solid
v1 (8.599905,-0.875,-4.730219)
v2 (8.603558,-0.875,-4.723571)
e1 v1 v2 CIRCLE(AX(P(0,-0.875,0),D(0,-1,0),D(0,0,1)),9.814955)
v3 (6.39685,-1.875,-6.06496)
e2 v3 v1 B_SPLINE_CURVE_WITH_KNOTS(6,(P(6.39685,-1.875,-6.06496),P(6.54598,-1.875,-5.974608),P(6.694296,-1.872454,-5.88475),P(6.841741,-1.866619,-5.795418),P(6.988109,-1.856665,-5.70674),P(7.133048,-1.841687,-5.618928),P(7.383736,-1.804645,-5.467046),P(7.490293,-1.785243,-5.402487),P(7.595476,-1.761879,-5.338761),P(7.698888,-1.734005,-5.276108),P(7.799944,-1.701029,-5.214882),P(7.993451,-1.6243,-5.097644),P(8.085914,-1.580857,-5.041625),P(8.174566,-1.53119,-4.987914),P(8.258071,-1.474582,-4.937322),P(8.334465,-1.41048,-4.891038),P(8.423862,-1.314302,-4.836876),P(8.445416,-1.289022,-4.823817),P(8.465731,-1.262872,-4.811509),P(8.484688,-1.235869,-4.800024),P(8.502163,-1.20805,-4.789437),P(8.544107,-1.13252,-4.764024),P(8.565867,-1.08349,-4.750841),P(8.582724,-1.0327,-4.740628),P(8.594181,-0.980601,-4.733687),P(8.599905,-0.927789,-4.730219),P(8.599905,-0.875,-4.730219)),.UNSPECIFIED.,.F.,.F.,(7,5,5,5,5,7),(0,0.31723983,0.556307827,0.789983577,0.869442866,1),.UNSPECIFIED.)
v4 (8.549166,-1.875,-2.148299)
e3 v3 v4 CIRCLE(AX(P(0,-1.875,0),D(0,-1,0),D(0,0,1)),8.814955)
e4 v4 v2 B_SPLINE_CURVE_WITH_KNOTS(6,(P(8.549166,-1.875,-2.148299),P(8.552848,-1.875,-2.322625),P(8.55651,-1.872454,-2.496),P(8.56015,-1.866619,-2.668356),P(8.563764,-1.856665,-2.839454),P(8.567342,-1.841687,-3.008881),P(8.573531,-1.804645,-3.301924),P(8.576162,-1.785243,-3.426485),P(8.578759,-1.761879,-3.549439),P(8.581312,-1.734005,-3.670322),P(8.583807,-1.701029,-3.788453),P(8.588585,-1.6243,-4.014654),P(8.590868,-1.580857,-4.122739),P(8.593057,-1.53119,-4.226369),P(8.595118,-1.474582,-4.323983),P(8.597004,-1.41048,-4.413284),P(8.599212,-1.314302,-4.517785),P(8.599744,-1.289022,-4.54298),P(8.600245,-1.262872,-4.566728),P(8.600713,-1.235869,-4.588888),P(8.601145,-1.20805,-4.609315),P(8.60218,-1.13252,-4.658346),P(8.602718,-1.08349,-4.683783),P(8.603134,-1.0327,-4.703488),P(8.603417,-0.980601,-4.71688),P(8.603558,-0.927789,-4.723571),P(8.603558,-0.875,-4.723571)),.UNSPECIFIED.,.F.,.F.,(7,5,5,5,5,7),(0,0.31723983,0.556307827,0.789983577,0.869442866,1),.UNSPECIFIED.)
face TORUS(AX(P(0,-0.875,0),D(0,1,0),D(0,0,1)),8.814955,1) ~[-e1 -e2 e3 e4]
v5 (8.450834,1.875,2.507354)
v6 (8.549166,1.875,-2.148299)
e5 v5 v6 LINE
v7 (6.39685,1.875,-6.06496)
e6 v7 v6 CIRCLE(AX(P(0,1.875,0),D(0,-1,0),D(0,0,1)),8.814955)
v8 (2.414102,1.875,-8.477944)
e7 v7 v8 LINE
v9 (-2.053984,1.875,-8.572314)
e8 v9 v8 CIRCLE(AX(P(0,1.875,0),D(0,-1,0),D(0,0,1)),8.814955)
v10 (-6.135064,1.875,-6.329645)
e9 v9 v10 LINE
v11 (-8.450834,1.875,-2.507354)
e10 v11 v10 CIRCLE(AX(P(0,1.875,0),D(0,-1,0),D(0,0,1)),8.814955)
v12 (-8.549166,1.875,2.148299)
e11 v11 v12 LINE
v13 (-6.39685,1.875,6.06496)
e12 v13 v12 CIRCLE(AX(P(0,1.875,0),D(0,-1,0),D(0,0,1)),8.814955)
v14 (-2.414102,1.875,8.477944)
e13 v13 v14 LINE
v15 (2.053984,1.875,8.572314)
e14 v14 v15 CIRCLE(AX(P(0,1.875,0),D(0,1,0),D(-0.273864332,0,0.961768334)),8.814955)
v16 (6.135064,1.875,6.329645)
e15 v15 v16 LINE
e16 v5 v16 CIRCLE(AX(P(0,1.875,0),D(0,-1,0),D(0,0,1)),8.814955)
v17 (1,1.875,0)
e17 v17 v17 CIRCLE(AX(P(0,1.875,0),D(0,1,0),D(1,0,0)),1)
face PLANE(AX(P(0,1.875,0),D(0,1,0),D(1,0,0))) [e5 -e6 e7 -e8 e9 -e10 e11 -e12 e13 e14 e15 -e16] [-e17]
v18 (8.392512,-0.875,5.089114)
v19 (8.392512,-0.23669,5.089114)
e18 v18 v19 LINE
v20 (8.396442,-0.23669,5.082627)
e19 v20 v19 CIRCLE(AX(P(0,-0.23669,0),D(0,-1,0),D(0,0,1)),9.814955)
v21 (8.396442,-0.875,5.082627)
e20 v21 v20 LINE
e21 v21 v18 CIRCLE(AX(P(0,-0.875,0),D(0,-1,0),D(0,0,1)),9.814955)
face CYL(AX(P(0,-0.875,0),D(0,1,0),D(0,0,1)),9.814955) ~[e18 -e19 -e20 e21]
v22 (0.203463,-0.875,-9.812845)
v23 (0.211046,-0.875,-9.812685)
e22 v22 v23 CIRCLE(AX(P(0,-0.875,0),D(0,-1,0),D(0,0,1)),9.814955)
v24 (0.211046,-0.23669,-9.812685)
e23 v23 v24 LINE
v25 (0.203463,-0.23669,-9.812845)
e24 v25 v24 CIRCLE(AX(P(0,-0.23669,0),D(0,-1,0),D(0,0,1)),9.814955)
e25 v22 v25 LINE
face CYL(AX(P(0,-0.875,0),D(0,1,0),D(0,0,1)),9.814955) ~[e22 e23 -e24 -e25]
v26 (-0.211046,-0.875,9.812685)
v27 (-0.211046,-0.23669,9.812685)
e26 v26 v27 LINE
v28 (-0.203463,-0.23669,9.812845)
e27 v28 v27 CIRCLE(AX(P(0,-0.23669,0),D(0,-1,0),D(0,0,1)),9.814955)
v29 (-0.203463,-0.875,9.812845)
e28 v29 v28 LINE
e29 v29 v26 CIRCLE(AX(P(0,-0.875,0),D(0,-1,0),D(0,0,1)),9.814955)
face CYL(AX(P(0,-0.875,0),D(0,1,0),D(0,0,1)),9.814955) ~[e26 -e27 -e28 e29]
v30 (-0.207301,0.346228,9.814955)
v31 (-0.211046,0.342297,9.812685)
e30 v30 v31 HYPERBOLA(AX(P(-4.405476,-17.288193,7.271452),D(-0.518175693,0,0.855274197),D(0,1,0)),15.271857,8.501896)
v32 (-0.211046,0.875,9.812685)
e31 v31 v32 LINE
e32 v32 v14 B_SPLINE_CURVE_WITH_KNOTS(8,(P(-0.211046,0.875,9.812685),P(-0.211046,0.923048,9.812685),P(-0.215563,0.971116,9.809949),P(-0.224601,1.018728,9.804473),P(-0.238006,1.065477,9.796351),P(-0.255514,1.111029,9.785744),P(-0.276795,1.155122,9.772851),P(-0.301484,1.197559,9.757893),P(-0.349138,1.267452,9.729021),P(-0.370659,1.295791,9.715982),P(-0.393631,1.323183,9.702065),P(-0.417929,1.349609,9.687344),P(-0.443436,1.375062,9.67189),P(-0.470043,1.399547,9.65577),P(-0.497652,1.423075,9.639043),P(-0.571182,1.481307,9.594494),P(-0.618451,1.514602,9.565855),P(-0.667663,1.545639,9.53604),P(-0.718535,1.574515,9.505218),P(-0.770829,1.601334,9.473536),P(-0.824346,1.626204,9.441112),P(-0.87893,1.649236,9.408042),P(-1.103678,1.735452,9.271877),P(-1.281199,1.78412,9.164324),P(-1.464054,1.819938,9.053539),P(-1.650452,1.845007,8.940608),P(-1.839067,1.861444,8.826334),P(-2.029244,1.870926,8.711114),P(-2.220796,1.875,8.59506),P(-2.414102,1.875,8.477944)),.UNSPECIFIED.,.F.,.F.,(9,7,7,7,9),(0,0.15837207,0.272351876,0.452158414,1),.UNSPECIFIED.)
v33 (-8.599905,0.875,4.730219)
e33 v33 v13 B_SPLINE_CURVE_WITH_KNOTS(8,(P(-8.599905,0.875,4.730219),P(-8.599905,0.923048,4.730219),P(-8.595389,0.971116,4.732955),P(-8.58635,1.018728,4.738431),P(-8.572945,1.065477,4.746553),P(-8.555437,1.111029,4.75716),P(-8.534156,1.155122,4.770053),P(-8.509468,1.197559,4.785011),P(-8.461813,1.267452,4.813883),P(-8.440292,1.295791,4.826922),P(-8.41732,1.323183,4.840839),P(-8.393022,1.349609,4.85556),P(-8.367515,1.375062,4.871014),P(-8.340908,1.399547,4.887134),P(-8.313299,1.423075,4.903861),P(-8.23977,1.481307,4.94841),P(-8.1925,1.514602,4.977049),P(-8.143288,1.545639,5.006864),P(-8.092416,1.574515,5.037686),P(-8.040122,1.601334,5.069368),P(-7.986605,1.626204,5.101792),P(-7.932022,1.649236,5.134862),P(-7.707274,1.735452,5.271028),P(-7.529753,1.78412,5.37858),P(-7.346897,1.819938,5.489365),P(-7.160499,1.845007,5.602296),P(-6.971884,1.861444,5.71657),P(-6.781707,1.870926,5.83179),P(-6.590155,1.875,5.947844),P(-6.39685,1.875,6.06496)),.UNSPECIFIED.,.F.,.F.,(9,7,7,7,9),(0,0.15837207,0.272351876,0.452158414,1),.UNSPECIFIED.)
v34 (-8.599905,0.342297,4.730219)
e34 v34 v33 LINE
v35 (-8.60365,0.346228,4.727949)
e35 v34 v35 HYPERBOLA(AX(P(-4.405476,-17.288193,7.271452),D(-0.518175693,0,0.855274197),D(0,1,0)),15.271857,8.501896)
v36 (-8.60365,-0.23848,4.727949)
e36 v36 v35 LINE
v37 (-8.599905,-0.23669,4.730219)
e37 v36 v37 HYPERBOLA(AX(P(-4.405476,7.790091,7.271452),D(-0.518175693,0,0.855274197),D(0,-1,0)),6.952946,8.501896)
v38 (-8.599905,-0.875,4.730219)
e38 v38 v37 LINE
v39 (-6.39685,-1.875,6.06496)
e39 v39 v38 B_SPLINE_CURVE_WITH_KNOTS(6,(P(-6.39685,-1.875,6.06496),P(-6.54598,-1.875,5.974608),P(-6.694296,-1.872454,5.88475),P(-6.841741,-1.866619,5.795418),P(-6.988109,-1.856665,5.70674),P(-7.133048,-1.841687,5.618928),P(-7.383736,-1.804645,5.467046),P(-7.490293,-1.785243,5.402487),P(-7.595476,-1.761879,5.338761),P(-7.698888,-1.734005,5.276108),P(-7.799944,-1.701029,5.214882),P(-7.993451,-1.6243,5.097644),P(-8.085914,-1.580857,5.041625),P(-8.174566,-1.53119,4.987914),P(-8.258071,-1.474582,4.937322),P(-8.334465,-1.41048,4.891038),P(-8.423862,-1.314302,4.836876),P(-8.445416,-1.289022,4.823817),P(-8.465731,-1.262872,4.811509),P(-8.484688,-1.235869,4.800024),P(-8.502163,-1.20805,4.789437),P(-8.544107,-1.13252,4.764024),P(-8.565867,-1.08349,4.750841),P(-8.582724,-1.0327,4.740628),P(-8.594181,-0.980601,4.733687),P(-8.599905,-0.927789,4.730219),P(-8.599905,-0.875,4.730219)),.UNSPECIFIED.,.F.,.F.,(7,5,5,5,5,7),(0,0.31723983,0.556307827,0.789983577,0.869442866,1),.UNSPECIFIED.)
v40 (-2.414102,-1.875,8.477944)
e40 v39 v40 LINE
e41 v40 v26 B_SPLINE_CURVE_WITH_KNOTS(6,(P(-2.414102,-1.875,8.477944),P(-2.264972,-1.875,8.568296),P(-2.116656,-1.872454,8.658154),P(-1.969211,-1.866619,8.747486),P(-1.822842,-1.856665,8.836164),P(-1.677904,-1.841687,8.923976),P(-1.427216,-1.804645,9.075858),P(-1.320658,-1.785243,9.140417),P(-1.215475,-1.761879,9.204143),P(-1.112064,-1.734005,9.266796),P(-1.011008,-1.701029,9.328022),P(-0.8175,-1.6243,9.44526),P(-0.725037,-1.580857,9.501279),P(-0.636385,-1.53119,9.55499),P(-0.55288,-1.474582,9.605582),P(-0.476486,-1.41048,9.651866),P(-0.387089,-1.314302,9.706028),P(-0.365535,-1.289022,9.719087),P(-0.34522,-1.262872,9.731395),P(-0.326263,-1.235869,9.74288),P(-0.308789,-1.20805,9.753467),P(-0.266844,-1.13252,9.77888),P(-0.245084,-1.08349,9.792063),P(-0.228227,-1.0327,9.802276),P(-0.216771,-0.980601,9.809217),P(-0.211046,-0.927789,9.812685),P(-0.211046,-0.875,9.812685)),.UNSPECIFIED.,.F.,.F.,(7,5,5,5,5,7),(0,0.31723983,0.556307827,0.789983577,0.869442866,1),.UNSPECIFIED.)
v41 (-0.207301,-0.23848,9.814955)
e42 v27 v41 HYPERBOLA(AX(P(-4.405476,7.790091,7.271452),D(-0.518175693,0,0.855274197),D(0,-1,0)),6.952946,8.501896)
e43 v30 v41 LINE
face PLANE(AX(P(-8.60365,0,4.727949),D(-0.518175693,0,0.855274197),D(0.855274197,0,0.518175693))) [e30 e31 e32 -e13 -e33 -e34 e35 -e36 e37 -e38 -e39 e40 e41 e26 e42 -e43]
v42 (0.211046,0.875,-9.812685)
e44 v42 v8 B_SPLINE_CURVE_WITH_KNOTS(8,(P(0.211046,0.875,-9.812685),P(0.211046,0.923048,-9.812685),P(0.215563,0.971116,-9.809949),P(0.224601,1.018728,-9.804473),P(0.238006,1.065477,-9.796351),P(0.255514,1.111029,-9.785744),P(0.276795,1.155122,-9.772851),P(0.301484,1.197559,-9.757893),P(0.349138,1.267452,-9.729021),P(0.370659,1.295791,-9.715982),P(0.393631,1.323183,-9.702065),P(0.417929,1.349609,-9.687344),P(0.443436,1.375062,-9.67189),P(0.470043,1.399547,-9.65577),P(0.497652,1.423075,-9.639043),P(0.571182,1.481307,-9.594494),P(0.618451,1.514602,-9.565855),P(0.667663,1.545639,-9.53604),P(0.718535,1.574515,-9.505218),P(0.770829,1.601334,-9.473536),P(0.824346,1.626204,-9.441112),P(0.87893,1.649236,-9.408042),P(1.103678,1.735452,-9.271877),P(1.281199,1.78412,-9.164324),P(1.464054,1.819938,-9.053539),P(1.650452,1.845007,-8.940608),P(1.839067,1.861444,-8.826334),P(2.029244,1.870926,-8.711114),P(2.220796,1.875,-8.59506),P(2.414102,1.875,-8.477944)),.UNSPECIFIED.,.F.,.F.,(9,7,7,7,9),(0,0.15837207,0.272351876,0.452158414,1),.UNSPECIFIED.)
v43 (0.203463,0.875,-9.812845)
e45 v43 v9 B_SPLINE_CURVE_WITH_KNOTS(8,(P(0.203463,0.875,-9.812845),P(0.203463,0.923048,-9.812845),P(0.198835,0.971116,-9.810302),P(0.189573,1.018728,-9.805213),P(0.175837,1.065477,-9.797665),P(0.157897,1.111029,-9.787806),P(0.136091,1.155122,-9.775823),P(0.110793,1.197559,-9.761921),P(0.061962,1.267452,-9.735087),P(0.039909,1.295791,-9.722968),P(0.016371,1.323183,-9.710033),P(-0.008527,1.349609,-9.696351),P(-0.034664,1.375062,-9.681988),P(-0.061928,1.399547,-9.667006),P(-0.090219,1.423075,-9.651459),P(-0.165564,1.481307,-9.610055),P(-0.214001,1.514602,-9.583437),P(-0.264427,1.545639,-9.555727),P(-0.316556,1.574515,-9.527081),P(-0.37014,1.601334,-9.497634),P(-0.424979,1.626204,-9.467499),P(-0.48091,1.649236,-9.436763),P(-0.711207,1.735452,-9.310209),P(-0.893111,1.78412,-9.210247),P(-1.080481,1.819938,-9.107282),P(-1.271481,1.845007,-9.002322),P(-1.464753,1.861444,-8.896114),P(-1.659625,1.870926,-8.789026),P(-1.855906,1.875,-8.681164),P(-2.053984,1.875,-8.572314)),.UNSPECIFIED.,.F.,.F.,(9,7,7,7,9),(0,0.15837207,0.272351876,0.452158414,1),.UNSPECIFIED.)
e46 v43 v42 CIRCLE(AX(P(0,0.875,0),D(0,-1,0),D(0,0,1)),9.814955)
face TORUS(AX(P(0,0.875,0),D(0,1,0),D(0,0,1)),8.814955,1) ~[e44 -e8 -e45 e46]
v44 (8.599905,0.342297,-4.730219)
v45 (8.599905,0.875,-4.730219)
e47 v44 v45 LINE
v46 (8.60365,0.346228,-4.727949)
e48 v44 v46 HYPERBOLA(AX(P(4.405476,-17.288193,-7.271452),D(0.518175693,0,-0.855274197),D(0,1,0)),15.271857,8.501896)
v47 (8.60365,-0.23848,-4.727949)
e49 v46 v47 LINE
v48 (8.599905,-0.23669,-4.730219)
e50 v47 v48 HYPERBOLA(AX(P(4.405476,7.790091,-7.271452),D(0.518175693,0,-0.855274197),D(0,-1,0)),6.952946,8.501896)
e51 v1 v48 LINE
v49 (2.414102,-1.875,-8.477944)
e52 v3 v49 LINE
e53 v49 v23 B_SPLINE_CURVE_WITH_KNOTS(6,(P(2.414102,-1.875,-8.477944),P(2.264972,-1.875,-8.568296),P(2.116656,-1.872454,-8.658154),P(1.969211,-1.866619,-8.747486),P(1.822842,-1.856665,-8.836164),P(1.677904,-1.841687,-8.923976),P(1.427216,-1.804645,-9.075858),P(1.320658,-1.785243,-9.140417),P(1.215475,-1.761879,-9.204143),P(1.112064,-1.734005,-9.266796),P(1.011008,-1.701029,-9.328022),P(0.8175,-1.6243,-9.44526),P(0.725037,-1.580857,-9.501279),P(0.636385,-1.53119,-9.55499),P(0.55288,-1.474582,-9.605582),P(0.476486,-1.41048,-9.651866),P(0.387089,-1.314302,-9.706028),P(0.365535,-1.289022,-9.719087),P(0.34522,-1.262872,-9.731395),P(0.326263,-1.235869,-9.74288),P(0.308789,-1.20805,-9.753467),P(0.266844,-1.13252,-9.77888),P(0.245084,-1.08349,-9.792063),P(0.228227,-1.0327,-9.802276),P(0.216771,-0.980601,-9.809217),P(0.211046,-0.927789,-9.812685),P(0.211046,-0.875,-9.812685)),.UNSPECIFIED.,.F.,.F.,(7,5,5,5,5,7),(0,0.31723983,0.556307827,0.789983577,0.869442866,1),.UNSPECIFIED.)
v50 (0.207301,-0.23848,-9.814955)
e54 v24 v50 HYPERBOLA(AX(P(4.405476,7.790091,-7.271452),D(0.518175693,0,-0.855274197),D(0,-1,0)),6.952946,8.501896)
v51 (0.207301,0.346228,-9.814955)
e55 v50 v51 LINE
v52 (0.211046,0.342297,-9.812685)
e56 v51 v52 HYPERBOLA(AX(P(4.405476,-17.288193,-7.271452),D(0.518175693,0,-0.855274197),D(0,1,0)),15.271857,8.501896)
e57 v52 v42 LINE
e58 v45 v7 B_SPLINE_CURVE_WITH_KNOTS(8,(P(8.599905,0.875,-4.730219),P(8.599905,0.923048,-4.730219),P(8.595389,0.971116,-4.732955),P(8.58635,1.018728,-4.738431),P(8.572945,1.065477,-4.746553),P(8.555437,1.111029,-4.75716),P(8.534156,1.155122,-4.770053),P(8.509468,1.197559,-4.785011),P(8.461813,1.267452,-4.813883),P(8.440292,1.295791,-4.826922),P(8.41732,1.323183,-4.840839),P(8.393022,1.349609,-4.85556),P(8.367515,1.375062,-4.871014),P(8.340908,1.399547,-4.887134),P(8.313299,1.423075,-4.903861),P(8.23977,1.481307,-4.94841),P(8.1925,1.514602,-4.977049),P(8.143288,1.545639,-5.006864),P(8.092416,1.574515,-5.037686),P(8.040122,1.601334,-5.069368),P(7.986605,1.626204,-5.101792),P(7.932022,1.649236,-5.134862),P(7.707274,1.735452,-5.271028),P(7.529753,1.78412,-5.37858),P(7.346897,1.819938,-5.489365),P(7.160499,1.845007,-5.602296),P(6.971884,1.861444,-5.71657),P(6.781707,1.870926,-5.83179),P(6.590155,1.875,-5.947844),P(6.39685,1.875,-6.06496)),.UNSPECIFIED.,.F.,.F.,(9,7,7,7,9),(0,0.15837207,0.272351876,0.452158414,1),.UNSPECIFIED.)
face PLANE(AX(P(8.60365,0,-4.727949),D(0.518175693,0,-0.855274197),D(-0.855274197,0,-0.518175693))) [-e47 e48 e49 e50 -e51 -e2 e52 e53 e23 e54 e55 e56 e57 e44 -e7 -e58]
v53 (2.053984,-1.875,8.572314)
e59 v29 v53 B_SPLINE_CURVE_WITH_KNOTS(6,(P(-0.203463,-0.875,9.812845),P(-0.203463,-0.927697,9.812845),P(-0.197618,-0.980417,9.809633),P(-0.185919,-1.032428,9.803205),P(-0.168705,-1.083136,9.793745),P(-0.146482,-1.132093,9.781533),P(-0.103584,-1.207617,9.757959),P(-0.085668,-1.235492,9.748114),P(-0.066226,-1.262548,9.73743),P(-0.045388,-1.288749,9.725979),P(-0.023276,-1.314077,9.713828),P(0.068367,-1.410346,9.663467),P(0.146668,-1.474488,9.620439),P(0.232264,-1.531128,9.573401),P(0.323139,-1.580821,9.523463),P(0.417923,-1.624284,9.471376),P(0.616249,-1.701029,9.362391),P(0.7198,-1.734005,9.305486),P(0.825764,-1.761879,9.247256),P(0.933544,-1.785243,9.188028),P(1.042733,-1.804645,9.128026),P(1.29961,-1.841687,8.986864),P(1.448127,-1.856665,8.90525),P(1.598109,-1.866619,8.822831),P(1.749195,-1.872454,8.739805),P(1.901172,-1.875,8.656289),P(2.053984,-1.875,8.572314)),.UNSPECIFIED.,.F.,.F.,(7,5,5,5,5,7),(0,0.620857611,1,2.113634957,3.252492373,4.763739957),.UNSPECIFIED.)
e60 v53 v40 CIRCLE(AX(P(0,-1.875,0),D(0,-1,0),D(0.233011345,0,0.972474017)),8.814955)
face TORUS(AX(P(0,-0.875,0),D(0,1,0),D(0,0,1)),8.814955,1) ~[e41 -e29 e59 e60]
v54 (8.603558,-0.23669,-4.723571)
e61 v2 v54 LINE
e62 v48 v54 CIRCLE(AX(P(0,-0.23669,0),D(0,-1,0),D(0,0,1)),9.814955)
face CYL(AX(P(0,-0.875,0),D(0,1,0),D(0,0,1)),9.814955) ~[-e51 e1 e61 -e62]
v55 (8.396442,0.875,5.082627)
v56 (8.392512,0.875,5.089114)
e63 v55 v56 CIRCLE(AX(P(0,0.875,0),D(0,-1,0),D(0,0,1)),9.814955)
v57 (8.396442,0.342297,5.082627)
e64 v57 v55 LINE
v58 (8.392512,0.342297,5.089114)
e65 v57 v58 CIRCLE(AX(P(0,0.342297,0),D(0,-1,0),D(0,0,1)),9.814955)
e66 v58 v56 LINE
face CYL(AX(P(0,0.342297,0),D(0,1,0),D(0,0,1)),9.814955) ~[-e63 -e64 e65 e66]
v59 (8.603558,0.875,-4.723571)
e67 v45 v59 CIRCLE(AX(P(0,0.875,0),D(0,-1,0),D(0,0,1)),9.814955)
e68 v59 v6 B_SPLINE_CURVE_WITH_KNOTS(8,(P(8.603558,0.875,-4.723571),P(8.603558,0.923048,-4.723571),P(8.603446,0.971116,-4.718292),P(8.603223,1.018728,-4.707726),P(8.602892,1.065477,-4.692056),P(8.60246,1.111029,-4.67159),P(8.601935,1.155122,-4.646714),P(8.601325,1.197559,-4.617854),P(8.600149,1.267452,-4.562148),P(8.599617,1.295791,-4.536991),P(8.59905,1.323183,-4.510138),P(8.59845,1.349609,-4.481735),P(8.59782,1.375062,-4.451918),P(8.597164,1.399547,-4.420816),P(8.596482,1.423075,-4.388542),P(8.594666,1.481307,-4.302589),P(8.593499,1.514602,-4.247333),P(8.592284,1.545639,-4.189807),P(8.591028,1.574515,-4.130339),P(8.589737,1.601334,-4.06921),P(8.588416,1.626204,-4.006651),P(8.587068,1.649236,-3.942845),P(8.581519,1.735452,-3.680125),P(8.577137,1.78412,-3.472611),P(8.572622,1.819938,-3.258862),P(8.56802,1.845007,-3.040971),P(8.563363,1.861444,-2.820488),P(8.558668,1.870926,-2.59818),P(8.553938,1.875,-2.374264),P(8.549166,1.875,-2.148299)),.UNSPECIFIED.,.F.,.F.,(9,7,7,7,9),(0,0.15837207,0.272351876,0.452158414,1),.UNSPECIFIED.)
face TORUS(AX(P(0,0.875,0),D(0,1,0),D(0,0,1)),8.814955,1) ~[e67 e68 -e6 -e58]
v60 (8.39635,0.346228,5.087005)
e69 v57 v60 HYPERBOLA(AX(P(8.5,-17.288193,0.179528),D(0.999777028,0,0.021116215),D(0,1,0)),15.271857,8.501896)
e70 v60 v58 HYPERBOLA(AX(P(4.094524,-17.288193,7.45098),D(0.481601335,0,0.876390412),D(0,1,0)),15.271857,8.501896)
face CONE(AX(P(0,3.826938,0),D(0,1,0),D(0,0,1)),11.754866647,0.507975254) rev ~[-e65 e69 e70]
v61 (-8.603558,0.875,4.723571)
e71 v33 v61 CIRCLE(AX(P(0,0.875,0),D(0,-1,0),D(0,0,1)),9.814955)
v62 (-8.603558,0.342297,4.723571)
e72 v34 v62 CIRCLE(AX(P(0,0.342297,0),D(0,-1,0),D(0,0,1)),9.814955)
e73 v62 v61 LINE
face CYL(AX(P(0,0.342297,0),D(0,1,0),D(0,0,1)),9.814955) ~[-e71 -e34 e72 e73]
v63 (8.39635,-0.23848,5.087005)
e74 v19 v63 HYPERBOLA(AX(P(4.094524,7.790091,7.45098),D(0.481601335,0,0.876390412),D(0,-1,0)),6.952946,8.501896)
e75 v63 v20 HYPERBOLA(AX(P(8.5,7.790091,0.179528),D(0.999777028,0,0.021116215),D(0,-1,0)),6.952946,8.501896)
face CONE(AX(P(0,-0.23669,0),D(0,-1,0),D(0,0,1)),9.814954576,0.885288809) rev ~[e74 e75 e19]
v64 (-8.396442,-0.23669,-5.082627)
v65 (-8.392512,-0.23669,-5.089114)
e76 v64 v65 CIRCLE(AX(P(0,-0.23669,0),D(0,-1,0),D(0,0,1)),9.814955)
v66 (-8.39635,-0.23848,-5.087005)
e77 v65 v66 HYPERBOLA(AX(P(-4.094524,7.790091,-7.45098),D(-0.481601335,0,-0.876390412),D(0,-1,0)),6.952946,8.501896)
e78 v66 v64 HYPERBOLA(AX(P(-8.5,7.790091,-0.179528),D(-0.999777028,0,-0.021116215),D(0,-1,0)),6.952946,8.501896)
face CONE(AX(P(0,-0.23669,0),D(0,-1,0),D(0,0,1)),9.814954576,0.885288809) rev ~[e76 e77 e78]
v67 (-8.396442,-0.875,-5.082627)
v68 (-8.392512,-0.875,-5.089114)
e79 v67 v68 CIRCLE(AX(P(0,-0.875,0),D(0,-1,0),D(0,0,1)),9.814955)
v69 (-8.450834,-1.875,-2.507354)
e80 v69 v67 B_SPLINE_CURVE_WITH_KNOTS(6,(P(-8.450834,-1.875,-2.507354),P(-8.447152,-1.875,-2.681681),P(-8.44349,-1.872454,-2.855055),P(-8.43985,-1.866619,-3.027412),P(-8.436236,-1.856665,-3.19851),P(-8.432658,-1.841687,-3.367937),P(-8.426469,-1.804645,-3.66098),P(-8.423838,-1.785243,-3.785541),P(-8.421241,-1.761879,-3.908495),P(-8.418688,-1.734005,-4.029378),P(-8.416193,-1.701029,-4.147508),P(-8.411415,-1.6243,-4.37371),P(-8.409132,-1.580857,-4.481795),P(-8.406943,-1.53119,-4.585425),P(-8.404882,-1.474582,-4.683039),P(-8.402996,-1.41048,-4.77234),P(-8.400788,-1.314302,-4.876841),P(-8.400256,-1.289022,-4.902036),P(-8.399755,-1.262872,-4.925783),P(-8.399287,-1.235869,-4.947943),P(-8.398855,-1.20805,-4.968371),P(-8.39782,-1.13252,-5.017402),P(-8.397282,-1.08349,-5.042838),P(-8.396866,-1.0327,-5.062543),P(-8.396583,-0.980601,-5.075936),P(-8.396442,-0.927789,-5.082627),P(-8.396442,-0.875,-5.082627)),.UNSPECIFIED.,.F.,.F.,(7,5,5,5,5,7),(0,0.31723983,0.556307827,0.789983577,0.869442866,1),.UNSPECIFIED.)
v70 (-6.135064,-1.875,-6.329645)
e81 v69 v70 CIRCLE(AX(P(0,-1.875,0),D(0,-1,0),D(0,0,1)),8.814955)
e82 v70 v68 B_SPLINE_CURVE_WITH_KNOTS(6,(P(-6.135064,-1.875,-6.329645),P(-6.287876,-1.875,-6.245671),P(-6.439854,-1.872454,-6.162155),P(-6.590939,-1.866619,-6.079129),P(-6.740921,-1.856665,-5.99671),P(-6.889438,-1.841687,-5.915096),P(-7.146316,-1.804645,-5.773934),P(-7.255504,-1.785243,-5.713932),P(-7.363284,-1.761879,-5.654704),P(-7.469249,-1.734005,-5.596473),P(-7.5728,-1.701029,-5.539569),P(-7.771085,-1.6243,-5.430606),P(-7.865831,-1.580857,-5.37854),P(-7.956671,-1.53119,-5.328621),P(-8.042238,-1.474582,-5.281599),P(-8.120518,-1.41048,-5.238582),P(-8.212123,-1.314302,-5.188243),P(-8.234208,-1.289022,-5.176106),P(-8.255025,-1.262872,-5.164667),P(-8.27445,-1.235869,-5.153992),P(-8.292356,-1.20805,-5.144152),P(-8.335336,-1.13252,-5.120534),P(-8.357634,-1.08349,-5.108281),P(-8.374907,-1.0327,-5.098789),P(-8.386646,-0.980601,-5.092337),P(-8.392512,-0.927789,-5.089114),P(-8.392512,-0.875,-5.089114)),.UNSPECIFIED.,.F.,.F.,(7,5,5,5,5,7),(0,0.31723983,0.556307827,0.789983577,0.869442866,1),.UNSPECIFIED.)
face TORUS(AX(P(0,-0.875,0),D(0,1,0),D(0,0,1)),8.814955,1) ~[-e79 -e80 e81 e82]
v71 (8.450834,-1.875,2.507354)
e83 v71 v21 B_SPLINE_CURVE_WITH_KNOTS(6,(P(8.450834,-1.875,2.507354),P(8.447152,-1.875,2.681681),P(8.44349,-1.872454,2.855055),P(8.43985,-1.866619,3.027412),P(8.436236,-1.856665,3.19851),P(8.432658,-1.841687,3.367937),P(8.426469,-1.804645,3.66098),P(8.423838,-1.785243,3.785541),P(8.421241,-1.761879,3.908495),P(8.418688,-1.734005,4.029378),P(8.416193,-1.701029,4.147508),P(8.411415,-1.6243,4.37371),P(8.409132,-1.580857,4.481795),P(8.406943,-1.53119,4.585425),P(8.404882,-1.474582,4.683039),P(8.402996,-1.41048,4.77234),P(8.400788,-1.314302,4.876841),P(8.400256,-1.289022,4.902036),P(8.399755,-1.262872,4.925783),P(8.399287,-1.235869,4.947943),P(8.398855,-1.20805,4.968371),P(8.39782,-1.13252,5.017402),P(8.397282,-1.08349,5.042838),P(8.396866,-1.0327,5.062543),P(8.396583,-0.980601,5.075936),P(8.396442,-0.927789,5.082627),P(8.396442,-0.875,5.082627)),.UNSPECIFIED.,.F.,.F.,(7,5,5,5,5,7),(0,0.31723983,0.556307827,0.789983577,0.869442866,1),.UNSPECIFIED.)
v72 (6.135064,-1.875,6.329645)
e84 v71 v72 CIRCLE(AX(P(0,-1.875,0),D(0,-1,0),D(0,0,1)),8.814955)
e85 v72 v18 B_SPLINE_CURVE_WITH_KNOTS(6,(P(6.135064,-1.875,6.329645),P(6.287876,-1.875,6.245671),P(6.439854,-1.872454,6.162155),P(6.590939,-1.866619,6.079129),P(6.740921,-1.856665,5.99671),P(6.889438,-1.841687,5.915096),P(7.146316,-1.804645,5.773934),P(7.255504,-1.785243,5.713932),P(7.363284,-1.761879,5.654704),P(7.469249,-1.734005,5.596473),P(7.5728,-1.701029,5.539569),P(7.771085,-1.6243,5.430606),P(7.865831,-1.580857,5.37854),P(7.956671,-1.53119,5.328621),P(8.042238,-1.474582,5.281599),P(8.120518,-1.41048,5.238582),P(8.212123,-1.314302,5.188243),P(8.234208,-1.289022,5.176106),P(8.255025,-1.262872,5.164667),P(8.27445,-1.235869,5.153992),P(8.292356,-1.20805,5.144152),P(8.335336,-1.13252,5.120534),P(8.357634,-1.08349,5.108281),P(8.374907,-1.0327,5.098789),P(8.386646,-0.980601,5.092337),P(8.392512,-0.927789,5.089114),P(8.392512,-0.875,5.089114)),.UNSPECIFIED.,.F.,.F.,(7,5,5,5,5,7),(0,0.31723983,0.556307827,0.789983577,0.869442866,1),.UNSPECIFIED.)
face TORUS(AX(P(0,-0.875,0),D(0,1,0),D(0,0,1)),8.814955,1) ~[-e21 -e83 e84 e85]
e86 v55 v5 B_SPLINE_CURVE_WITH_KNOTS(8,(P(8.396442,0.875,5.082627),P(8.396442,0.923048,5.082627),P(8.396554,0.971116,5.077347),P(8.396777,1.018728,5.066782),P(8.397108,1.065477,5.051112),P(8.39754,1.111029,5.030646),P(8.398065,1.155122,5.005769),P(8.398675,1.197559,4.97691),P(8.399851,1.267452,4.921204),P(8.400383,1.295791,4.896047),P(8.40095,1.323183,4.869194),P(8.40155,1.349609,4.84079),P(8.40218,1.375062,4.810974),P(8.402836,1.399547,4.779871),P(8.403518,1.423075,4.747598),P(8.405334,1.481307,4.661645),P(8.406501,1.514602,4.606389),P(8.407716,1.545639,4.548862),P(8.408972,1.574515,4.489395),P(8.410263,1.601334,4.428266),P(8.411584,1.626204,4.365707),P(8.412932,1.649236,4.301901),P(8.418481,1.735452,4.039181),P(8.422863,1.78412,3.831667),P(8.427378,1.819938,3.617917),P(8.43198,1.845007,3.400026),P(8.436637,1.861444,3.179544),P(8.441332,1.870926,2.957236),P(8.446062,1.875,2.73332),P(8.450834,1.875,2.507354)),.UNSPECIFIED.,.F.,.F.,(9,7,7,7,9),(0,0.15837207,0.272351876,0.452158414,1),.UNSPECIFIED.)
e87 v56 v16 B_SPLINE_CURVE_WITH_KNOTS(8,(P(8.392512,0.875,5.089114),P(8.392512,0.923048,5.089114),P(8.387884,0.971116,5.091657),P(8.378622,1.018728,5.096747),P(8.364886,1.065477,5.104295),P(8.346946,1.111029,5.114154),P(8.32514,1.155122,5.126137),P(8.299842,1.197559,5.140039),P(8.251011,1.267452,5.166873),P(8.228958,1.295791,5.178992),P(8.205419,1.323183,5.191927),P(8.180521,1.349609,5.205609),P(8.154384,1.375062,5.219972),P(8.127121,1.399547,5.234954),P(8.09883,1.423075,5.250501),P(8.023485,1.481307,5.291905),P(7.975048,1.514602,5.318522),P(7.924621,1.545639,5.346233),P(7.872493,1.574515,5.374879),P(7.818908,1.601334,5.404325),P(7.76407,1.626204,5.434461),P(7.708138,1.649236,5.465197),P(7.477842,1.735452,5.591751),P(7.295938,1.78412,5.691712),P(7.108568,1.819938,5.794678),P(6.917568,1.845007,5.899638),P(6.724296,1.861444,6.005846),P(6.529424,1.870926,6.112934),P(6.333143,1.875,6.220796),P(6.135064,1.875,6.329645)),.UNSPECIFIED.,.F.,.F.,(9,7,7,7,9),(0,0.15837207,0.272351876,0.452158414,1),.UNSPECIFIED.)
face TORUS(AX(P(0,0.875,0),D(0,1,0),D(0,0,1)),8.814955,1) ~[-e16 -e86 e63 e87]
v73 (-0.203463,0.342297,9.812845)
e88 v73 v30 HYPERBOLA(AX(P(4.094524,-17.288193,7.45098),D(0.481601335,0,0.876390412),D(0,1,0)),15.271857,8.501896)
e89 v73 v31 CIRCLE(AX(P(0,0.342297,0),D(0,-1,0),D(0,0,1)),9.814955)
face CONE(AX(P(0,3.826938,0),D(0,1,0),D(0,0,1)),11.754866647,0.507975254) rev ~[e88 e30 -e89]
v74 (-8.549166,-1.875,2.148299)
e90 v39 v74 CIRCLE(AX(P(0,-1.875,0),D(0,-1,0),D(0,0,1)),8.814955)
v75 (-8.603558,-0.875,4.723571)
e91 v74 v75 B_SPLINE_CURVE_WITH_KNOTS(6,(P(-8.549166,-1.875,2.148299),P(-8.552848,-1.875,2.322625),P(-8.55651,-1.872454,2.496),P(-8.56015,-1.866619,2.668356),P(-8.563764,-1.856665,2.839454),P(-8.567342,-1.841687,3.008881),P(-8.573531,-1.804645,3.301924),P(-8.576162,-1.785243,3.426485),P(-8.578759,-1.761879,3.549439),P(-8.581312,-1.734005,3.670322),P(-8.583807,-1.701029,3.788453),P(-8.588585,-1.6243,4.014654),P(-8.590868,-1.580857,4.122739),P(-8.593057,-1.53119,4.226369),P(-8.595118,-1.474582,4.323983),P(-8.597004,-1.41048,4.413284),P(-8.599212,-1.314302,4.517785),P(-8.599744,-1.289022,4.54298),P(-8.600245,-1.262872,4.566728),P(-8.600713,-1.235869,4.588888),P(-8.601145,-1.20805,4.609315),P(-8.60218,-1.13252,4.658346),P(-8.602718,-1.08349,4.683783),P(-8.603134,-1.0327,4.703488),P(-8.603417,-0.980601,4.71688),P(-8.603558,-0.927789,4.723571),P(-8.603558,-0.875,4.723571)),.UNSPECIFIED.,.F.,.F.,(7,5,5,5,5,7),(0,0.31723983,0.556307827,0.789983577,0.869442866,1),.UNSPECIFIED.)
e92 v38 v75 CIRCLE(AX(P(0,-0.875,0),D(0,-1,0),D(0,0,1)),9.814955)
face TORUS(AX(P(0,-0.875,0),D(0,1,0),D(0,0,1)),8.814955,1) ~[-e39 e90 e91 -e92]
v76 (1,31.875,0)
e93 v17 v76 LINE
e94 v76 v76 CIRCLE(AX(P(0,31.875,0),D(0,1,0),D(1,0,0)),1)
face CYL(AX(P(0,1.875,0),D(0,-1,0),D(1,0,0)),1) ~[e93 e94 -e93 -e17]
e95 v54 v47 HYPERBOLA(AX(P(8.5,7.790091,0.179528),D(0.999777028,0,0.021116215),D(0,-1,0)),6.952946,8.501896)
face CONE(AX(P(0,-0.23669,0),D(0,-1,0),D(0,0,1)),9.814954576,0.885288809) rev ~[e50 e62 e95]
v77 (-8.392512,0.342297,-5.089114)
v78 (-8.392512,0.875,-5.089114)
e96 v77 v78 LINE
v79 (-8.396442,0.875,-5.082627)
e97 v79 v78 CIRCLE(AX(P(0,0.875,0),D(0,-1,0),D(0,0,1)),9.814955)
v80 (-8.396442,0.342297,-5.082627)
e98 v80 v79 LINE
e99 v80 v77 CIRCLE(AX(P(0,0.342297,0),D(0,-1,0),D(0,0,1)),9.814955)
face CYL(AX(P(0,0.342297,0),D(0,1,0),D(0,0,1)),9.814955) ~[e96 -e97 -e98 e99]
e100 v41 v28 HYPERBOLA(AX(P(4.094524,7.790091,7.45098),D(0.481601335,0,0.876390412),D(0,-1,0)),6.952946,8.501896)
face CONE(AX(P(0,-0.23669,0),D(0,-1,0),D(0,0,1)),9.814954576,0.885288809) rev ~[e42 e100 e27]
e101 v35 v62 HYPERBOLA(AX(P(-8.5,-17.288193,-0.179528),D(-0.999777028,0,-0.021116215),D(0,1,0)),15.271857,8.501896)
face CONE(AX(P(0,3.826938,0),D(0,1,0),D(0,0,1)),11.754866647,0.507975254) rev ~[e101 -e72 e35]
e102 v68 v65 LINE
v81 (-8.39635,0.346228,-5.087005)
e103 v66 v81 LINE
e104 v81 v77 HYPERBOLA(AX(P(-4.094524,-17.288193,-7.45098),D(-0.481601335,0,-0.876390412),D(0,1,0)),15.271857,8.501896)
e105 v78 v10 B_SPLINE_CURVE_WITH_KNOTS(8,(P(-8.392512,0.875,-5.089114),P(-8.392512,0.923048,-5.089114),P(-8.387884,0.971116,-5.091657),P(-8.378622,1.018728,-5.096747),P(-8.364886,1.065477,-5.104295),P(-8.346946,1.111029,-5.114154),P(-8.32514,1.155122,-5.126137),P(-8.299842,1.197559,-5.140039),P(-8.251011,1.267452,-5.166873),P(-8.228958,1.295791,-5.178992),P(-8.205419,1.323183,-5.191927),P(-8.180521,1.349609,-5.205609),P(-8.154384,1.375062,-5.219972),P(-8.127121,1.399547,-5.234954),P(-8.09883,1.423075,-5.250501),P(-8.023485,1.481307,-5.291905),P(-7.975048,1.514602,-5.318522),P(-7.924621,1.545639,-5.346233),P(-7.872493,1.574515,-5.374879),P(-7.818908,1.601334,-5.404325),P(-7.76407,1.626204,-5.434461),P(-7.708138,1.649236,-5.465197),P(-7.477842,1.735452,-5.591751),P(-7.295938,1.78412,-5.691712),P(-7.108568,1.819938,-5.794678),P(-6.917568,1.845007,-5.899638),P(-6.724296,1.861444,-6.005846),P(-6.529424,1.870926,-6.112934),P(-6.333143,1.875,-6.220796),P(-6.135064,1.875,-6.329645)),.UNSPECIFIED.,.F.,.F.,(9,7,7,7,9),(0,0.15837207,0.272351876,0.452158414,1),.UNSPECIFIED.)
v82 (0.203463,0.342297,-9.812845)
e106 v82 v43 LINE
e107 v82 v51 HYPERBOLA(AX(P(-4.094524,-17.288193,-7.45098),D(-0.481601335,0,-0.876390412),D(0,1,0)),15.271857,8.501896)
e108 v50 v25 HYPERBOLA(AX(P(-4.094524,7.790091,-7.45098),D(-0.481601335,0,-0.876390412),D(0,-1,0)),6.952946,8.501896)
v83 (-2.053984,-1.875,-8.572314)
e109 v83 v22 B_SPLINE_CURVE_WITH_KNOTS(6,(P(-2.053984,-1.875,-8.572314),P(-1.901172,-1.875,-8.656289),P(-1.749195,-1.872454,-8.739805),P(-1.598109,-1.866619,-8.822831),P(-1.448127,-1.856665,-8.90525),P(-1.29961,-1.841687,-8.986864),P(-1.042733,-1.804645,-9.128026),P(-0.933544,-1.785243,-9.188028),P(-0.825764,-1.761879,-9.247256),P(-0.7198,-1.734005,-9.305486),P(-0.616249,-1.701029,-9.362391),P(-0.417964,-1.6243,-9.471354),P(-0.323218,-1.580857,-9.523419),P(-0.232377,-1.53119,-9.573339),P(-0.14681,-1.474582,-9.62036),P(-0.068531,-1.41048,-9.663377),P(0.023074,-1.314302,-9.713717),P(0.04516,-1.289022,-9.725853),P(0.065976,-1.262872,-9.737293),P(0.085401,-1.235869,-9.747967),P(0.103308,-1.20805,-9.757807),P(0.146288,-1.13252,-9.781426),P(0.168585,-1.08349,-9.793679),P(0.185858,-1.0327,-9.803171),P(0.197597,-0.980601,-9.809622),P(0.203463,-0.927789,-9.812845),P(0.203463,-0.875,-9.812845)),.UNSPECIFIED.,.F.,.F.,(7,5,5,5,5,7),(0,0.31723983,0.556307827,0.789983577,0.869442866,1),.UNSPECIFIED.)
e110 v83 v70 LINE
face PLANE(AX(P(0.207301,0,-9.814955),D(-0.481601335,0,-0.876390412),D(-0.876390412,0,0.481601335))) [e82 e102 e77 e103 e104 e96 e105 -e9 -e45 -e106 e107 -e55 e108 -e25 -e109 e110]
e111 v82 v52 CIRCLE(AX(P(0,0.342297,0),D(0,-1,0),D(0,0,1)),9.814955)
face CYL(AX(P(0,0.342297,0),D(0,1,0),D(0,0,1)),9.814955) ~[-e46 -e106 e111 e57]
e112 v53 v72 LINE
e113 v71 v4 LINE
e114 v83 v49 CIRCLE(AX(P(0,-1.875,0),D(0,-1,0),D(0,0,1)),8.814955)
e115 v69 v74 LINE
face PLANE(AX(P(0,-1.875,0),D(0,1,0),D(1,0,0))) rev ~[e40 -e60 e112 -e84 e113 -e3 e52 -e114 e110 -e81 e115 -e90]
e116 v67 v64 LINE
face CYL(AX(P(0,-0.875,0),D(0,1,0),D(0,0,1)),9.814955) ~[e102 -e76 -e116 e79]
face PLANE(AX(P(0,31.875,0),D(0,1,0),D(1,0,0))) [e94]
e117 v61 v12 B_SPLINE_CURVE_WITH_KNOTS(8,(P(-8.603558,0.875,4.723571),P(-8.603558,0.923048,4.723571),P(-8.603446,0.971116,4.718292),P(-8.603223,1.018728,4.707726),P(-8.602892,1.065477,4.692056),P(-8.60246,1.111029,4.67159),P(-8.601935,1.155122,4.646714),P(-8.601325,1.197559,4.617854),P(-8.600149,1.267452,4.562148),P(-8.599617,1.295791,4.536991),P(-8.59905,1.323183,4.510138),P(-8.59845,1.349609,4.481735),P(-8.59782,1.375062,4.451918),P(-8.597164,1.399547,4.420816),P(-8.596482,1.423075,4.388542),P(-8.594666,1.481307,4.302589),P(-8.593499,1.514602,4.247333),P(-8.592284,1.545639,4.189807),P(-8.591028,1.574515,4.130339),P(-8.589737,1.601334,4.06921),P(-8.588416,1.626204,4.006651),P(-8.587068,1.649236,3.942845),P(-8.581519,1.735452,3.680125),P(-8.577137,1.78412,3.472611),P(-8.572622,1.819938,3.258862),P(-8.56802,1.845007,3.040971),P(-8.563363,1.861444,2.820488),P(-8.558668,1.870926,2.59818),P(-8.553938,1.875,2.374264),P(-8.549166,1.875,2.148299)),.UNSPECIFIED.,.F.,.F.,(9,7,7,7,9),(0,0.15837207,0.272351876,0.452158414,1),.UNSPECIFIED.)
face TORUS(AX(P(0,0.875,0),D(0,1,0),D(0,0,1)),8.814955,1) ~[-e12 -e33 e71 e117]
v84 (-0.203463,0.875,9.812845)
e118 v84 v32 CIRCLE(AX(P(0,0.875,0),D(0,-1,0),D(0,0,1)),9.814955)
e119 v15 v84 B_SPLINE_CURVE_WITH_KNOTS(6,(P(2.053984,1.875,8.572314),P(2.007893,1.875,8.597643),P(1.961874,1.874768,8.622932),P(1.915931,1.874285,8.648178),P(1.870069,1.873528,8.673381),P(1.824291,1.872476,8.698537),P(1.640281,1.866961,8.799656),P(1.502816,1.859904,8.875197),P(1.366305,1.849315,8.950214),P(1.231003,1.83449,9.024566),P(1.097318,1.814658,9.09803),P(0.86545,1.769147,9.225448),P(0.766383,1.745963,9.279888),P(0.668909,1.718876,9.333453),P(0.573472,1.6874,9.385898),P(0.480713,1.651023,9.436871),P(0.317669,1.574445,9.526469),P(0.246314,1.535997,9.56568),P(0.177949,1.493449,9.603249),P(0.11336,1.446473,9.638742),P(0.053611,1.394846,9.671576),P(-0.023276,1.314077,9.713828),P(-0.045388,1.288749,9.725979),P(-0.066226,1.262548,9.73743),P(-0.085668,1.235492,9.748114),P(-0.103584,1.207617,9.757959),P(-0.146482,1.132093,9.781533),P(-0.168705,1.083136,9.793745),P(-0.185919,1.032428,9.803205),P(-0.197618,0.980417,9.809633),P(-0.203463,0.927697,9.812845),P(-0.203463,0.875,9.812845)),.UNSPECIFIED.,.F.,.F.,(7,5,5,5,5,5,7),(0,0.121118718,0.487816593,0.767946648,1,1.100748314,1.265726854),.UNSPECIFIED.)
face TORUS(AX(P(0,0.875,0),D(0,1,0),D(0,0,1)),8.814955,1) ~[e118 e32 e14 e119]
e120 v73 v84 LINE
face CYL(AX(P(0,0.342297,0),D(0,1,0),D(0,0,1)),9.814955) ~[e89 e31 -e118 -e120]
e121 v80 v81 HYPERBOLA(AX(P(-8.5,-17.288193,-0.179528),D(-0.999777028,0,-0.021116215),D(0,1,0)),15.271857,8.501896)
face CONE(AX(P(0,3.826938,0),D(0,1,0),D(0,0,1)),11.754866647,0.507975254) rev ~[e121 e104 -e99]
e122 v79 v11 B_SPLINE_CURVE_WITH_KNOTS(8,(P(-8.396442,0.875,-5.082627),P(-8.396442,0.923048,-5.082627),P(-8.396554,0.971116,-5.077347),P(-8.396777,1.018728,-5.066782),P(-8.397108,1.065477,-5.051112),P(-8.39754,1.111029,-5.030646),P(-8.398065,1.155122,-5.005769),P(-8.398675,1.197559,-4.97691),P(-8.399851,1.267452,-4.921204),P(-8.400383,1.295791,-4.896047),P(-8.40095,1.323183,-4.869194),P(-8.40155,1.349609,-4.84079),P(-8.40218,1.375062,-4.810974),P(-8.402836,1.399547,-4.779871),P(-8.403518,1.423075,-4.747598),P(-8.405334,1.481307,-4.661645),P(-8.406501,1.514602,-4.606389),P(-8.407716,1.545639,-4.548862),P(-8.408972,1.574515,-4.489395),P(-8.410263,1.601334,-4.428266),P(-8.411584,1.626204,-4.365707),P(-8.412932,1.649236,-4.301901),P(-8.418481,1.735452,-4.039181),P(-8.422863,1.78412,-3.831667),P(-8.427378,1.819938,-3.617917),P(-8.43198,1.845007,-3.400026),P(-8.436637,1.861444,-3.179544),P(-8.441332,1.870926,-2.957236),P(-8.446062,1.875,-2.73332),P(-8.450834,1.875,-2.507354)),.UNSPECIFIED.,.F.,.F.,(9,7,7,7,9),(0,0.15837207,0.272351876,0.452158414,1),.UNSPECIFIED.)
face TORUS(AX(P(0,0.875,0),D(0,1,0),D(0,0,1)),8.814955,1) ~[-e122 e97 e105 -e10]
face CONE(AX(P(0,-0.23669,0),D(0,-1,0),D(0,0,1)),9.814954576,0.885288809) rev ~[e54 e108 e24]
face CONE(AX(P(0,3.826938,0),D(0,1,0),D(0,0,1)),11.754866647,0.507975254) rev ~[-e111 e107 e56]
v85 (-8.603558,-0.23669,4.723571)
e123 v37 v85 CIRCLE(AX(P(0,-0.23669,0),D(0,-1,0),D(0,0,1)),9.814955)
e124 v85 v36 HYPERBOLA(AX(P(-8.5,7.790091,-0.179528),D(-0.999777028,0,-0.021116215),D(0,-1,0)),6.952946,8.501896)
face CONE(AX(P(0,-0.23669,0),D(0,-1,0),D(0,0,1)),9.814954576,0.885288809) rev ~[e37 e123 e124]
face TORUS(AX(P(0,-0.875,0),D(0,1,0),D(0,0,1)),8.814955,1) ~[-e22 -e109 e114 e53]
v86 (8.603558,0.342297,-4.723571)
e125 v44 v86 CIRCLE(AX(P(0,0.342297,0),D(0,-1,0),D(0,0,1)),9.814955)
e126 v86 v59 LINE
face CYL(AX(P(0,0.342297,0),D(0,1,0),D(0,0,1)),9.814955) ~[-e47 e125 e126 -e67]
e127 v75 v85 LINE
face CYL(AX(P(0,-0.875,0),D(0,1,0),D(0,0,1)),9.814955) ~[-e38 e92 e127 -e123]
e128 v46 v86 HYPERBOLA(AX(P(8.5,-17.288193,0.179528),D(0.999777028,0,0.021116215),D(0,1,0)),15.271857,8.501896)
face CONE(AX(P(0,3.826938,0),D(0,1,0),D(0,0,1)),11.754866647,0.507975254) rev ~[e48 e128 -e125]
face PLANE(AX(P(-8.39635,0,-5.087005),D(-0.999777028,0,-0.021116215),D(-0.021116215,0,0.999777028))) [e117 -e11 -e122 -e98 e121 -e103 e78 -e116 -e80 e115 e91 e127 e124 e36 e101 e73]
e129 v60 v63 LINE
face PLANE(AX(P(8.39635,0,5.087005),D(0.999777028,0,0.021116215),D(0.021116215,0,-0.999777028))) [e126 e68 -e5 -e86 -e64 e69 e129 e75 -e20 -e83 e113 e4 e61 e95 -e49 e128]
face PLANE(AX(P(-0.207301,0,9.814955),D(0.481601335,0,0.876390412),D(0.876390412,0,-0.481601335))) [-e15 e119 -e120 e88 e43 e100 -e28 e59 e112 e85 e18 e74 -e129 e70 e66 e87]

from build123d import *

# Parameters (mm, degrees)
BOSS_EXTRUDE1_DEPTH = 1.875
SKETCH2_R           = 1
BOSS_EXTRUDE2_DEPTH = 30


with BuildPart() as part:
    # Sketch1 → Boss-Extrude1 (new body, symmetric)
    with BuildSketch(Plane(origin=(0, 0, 0), x_dir=(1, 0, 0), z_dir=(0, 1, 0))):
        Polygon((8.603650459, 4.727949427), (0.207300918, 9.814954576), (-8.396349541, 5.087005149), (-8.603650459, -4.727949427), (-0.207300918, -9.814954576), (8.396349541, -5.087005149), align=None)
    extrude(amount=BOSS_EXTRUDE1_DEPTH, both=True)

    # Sketch2 → Boss-Extrude2 (add)
    with BuildSketch(Plane(origin=(0, 1.875, 0), x_dir=(1, 0, 0), z_dir=(0, 1, 0))):
        Circle(SKETCH2_R)
    extrude(amount=BOSS_EXTRUDE2_DEPTH)

    # Sketch3 → Cut-Revolve1 (revolve, cut)
    with BuildSketch(Plane(origin=(0, 0, 0), x_dir=(0, 0, -1), z_dir=(1, 0, 0))):
        with BuildLine():
            Line((-7.638983711, -1.875), (-8.814954576, -1.875))
            ThreePointArc((-8.814954576, -1.875), (-9.522061357, -1.582106781), (-9.814954576, -0.875))
            Line((-9.814954576, -0.875), (-9.814954576, -0.236690097))
            Line((-9.814954576, -0.236690097), (-12.690091337, -2.588009386))
            Line((-12.690091337, -2.588009386), (-8.538791087, -3.391496898))
            Line((-8.538791087, -3.391496898), (-7.638983711, -1.875))
        make_face()
        with BuildLine():
            Line((-9.814954576, 0.342296512), (-9.814954576, 0.875))
            ThreePointArc((-9.814954576, 0.875), (-9.522061357, 1.582106781), (-8.814954576, 1.875))
            Line((-8.814954576, 1.875), (-7.819902103, 1.875))
            Line((-7.819902103, 1.875), (-11.754866647, 3.826938138))
            Line((-11.754866647, 3.826938138), (-9.814954576, 0.342296512))
        make_face()
    revolve(axis=Axis((0, 0, 0), (0, -1, 0)), mode=Mode.SUBTRACT)


solid = part.part
